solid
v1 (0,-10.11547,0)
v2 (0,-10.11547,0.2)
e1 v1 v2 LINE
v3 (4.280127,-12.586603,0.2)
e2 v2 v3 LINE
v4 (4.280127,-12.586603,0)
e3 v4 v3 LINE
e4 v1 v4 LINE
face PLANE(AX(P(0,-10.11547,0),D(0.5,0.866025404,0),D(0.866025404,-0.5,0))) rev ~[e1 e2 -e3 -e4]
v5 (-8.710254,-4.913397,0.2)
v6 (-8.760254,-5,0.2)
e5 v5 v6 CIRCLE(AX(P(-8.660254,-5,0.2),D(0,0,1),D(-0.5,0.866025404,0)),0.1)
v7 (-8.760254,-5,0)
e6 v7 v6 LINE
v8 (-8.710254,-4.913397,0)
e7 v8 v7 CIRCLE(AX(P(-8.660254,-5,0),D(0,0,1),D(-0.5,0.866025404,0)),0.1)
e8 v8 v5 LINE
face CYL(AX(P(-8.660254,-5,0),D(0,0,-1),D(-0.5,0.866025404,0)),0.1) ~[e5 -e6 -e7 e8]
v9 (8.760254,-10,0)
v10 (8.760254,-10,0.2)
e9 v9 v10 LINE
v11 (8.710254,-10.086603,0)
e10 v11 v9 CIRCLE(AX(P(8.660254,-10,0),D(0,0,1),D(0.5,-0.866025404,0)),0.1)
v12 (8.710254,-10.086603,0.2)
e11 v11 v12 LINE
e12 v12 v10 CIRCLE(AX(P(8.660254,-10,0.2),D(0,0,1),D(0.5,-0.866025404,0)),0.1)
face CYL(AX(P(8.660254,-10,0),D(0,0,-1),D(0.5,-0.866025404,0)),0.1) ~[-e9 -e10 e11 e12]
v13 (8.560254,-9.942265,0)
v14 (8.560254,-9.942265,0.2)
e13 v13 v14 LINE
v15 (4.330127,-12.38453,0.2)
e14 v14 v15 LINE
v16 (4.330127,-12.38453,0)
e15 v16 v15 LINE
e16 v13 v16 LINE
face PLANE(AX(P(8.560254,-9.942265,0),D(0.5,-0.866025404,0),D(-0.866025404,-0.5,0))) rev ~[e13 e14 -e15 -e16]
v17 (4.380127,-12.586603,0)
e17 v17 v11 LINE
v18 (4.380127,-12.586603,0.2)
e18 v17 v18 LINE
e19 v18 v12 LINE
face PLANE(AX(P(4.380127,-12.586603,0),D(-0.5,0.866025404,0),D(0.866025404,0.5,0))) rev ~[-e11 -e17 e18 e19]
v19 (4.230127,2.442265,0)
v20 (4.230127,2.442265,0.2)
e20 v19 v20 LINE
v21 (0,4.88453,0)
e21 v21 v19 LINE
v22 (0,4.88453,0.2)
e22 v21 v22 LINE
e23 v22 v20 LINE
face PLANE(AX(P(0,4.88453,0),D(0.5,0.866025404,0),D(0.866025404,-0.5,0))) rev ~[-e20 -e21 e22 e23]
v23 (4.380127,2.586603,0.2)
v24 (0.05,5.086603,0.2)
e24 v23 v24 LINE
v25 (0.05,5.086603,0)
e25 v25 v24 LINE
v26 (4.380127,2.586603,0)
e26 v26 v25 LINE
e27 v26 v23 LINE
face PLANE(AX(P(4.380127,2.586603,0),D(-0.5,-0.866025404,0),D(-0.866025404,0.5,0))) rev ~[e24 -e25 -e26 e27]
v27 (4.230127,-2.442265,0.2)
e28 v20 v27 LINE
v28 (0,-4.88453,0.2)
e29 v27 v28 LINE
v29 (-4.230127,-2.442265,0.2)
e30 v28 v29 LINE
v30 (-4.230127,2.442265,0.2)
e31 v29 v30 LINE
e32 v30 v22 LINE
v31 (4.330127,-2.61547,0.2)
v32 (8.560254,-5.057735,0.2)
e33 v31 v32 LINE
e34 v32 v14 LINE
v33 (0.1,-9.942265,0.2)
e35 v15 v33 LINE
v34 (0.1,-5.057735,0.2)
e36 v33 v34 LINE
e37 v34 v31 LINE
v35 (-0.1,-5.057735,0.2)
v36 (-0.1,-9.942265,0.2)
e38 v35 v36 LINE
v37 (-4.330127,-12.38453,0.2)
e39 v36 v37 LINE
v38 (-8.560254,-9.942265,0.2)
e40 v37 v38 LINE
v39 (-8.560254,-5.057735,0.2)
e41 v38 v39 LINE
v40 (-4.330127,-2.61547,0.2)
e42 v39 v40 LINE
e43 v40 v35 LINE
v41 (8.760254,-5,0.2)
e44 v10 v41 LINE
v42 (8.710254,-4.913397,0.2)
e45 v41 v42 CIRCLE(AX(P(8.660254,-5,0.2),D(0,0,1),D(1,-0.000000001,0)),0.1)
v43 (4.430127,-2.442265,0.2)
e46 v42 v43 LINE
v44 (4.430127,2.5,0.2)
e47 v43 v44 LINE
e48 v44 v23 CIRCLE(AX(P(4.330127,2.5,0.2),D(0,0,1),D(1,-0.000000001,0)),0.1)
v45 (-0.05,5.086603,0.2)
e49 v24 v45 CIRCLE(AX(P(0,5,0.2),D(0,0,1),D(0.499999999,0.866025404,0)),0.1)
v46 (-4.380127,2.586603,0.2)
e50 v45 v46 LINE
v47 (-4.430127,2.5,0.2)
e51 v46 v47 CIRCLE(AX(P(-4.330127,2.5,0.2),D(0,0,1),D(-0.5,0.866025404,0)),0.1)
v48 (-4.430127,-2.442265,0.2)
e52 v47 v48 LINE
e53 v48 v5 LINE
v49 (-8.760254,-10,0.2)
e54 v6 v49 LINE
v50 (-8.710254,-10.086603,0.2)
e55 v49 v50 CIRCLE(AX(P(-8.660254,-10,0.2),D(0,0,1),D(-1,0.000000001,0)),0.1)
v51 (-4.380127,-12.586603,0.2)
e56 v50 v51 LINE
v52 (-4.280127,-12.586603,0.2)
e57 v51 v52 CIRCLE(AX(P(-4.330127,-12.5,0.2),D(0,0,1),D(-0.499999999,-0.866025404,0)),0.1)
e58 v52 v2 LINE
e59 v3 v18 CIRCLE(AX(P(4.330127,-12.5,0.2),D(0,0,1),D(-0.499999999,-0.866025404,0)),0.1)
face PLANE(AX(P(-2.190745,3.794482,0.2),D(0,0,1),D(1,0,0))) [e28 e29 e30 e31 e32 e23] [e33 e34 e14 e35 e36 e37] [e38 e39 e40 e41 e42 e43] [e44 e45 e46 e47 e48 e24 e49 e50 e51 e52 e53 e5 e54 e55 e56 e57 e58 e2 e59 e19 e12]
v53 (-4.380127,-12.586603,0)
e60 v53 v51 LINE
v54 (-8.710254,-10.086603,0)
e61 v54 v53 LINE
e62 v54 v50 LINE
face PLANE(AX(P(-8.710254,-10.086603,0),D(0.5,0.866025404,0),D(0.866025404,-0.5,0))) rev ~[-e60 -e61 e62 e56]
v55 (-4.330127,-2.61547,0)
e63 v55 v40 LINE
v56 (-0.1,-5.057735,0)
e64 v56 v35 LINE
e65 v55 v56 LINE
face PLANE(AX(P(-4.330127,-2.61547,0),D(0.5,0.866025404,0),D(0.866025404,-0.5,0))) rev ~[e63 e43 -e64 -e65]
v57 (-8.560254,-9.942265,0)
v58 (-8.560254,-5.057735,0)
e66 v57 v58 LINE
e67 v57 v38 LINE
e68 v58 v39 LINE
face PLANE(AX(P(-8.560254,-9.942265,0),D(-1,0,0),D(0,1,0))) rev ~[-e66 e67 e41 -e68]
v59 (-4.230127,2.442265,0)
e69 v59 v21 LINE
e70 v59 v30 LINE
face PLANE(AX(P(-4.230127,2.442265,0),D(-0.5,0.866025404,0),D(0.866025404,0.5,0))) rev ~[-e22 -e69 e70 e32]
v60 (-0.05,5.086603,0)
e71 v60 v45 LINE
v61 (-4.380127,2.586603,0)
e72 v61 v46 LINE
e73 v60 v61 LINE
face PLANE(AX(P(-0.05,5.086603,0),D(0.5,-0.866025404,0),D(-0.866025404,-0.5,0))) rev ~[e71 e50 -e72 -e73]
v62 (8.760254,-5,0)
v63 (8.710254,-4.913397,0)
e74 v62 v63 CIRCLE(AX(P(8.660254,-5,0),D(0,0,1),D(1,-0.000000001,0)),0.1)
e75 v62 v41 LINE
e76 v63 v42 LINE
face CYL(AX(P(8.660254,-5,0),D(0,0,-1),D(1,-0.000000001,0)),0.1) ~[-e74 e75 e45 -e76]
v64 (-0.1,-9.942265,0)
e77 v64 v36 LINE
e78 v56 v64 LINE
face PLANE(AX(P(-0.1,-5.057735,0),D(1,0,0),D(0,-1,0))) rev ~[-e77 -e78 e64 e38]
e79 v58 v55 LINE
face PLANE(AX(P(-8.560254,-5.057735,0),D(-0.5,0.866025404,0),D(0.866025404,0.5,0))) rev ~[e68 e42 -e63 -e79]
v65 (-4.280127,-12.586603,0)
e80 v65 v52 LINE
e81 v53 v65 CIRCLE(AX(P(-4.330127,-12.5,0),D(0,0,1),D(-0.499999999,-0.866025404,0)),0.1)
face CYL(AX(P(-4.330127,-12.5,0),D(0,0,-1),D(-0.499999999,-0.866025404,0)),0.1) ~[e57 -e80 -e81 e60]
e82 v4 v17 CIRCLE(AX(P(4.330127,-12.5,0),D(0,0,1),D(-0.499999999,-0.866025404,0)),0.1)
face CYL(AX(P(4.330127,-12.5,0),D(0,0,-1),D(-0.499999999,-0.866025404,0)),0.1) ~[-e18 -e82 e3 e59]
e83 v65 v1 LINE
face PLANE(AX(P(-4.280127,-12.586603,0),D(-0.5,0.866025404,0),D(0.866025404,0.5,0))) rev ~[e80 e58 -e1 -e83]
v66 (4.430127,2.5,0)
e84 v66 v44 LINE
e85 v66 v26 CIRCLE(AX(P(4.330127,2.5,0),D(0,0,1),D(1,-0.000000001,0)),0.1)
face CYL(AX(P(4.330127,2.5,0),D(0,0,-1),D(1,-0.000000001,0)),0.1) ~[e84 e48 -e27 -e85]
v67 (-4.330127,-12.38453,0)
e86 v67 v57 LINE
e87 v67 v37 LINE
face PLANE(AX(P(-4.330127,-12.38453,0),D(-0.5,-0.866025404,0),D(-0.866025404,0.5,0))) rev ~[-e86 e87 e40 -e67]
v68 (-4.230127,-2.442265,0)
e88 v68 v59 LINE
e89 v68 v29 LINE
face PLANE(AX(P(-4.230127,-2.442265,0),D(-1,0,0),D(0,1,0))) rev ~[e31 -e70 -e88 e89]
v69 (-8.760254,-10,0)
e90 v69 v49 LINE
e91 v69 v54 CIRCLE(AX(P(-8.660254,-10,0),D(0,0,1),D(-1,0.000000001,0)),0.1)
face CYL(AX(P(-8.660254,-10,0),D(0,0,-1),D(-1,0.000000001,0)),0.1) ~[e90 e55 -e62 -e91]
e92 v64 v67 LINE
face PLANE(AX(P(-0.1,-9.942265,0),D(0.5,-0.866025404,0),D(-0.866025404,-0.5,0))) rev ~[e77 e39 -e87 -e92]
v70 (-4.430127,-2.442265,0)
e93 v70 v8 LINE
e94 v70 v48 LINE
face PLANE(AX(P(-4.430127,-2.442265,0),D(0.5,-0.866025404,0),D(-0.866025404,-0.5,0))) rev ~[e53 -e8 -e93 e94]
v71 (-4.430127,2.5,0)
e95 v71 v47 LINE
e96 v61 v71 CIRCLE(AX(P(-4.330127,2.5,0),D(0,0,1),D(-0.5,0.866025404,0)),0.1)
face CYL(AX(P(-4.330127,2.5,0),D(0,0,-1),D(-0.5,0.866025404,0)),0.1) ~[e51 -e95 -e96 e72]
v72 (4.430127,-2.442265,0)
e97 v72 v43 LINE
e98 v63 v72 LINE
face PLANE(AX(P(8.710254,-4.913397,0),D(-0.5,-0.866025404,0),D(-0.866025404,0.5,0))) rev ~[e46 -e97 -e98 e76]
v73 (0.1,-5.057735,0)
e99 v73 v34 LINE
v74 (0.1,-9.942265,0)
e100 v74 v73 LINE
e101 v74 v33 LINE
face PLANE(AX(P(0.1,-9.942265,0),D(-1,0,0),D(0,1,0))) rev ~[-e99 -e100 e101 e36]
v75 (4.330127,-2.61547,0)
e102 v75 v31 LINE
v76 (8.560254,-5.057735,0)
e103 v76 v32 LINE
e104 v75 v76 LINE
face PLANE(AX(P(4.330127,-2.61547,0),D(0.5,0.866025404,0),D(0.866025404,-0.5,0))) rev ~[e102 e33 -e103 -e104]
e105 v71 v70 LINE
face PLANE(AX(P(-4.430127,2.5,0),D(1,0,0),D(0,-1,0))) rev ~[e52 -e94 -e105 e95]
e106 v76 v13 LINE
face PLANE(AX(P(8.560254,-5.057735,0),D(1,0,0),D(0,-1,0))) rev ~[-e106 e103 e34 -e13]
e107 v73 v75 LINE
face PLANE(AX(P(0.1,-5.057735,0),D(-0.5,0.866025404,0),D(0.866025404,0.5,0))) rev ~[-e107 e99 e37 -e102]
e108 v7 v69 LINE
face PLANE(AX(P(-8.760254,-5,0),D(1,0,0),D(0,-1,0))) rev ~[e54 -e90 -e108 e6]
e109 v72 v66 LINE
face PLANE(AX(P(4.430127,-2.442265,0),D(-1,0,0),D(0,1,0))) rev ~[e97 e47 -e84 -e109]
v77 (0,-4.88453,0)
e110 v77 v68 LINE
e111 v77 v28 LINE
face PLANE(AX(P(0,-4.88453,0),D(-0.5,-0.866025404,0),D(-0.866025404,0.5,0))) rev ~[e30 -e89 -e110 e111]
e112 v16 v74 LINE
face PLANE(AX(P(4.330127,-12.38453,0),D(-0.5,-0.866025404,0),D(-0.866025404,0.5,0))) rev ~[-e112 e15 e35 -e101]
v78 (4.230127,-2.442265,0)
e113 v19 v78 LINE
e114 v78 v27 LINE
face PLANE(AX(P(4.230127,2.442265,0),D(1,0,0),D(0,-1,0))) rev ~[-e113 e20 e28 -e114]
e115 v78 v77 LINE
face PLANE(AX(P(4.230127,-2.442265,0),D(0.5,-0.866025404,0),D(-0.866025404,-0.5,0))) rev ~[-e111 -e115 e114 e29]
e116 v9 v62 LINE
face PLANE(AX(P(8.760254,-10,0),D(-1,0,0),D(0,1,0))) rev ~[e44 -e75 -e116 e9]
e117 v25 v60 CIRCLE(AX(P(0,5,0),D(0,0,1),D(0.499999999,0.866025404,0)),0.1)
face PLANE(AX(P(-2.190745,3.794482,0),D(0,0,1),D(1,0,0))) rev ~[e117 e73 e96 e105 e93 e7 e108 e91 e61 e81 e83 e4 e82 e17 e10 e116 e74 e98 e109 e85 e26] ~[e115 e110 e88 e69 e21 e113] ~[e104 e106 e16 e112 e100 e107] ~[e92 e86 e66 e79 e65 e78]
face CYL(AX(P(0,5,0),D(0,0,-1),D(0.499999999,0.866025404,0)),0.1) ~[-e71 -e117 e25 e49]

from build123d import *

# Parameters (mm, degrees)
F1_DEPTH = 0.2


with BuildPart() as f1:
    # F0 (on Top) → F1 (new body)
    with BuildSketch(Plane.XY):
        with BuildLine():
            Line((-4.2435244785, 2.55), (-0.0866025404, 4.95))
            ThreePointArc((-0.0866025404, 4.95), (-0.0965925826, 5.0258819045), (-0.05, 5.0866025404))
            Line((-0.05, 5.0866025404), (-4.3801270189, 2.5866025404))
            ThreePointArc((-4.3801270189, 2.5866025404), (-4.3042451144, 2.5965925826), (-4.2435244785, 2.55))
        make_face()
        with BuildLine():
            Line((-4.3301270189, 2.5), (-4.2435244785, 2.55))
            ThreePointArc((-4.2435244785, 2.55), (-4.3042451144, 2.5965925826), (-4.3801270189, 2.5866025404))
            ThreePointArc((-4.3801270189, 2.5866025404), (-4.4167295593, 2.55), (-4.4301270189, 2.5))
            ThreePointArc((-4.4301270189, 2.5), (-4.400837697, 2.4292893219), (-4.3301270189, 2.4))
            Line((-4.3301270189, 2.4), (-4.3301270189, 2.5))
        make_face()
        with BuildLine():
            ThreePointArc((-4.2301270189, 2.5), (-4.2335344363, 2.5258819045), (-4.2435244785, 2.55))
            Line((-4.2435244785, 2.55), (-4.3301270189, 2.5))
            Line((-4.3301270189, 2.5), (-4.3301270189, 2.4))
            ThreePointArc((-4.3301270189, 2.4), (-4.3042451144, 2.4034074174), (-4.2801270189, 2.4133974596))
            Line((-4.2801270189, 2.4133974596), (-4.2301270189, 2.4422649731))
            Line((-4.2301270189, 2.4422649731), (-4.2301270189, 2.5))
        make_face()
        with BuildLine():
            Line((-4.3301270189, -2.4), (-4.3301270189, 2.4))
            ThreePointArc((-4.3301270189, 2.4), (-4.400837697, 2.4292893219), (-4.4301270189, 2.5))
            Line((-4.4301270189, 2.5), (-4.4301270189, -2.4422649731))
            Line((-4.4301270189, -2.4422649731), (-4.3801270189, -2.4133974596))
            ThreePointArc((-4.3801270189, -2.4133974596), (-4.3560089234, -2.4034074174), (-4.3301270189, -2.4))
        make_face()
        with BuildLine():
            Line((-4.2301270189, -2.4422649731), (-4.2301270189, 2.4422649731))
            Line((-4.2301270189, 2.4422649731), (-4.2801270189, 2.4133974596))
            ThreePointArc((-4.2801270189, 2.4133974596), (-4.3042451144, 2.4034074174), (-4.3301270189, 2.4))
            Line((-4.3301270189, 2.4), (-4.3301270189, -2.4))
            ThreePointArc((-4.3301270189, -2.4), (-4.3042451144, -2.4034074174), (-4.2801270189, -2.4133974596))
            Line((-4.2801270189, -2.4133974596), (-4.2301270189, -2.4422649731))
        make_face()
        with BuildLine():
            ThreePointArc((-0.05, 4.9133974596), (-0.0707106781, 4.9292893219), (-0.0866025404, 4.95))
            Line((-0.0866025404, 4.95), (-4.2435244785, 2.55))
            ThreePointArc((-4.2435244785, 2.55), (-4.2335344363, 2.5258819045), (-4.2301270189, 2.5))
            Line((-4.2301270189, 2.5), (-4.2301270189, 2.4422649731))
            Line((-4.2301270189, 2.4422649731), (0, 4.8845299462))
            Line((0, 4.8845299462), (-0.05, 4.9133974596))
        make_face()
        with BuildLine():
            Line((0.0866025404, 4.95), (0, 5))
            Line((0, 5), (-0.0866025404, 4.95))
            ThreePointArc((-0.0866025404, 4.95), (-0.0707106781, 4.9292893219), (-0.05, 4.9133974596))
            Line((-0.05, 4.9133974596), (0, 4.8845299462))
            Line((0, 4.8845299462), (0.05, 4.9133974596))
            ThreePointArc((0.05, 4.9133974596), (0.0707106781, 4.9292893219), (0.0866025404, 4.95))
        make_face()
        with BuildLine():
            Line((-0.0866025404, 4.95), (0, 5))
            Line((0, 5), (0.0866025404, 4.95))
            ThreePointArc((0.0866025404, 4.95), (0.0965925826, 5.0258819045), (0.05, 5.0866025404))
            ThreePointArc((0.05, 5.0866025404), (0, 5.1), (-0.05, 5.0866025404))
            ThreePointArc((-0.05, 5.0866025404), (-0.0965925826, 5.0258819045), (-0.0866025404, 4.95))
        make_face()
        with BuildLine():
            ThreePointArc((0.05, 5.0866025404), (0.0965925826, 5.0258819045), (0.0866025404, 4.95))
            Line((0.0866025404, 4.95), (4.2435244785, 2.55))
            ThreePointArc((4.2435244785, 2.55), (4.3042451144, 2.5965925826), (4.3801270189, 2.5866025404))
            Line((4.3801270189, 2.5866025404), (0.05, 5.0866025404))
        make_face()
        with BuildLine():
            Line((4.2435244785, 2.55), (0.0866025404, 4.95))
            ThreePointArc((0.0866025404, 4.95), (0.0707106781, 4.9292893219), (0.05, 4.9133974596))
            Line((0.05, 4.9133974596), (0, 4.8845299462))
            Line((0, 4.8845299462), (4.2301270189, 2.4422649731))
            Line((4.2301270189, 2.4422649731), (4.2301270189, 2.5))
            ThreePointArc((4.2301270189, 2.5), (4.2335344363, 2.5258819045), (4.2435244785, 2.55))
        make_face()
        with BuildLine():
            Line((4.3301270189, 2.5), (4.2435244785, 2.55))
            ThreePointArc((4.2435244785, 2.55), (4.2335344363, 2.5258819045), (4.2301270189, 2.5))
            Line((4.2301270189, 2.5), (4.2301270189, 2.4422649731))
            Line((4.2301270189, 2.4422649731), (4.2801270189, 2.4133974596))
            ThreePointArc((4.2801270189, 2.4133974596), (4.3042451144, 2.4034074174), (4.3301270189, 2.4))
            Line((4.3301270189, 2.4), (4.3301270189, 2.5))
        make_face()
        with BuildLine():
            ThreePointArc((4.3801270189, 2.5866025404), (4.3042451144, 2.5965925826), (4.2435244785, 2.55))
            Line((4.2435244785, 2.55), (4.3301270189, 2.5))
            Line((4.3301270189, 2.5), (4.3301270189, 2.4))
            ThreePointArc((4.3301270189, 2.4), (4.400837697, 2.4292893219), (4.4301270189, 2.5))
            ThreePointArc((4.4301270189, 2.5), (4.4167295593, 2.55), (4.3801270189, 2.5866025404))
        make_face()
        with BuildLine():
            Line((4.3301270189, -2.4), (4.3301270189, 2.4))
            ThreePointArc((4.3301270189, 2.4), (4.3042451144, 2.4034074174), (4.2801270189, 2.4133974596))
            Line((4.2801270189, 2.4133974596), (4.2301270189, 2.4422649731))
            Line((4.2301270189, 2.4422649731), (4.2301270189, -2.4422649731))
            Line((4.2301270189, -2.4422649731), (4.2801270189, -2.4133974596))
            ThreePointArc((4.2801270189, -2.4133974596), (4.3042451144, -2.4034074174), (4.3301270189, -2.4))
        make_face()
        with BuildLine():
            ThreePointArc((4.4301270189, 2.5), (4.400837697, 2.4292893219), (4.3301270189, 2.4))
            Line((4.3301270189, 2.4), (4.3301270189, -2.4))
            ThreePointArc((4.3301270189, -2.4), (4.3560089234, -2.4034074174), (4.3801270189, -2.4133974596))
            Line((4.3801270189, -2.4133974596), (4.4301270189, -2.4422649731))
            Line((4.4301270189, -2.4422649731), (4.4301270189, 2.5))
        make_face()
        with BuildLine():
            Line((4.2801270189, -2.4133974596), (4.2301270189, -2.4422649731))
            Line((4.2301270189, -2.4422649731), (4.2301270189, -2.5))
            ThreePointArc((4.2301270189, -2.5), (4.2435244785, -2.45), (4.2801270189, -2.4133974596))
        make_face()
        with BuildLine():
            Line((4.4301270189, -2.5), (4.4301270189, -2.4422649731))
            Line((4.4301270189, -2.4422649731), (4.3801270189, -2.4133974596))
            ThreePointArc((4.3801270189, -2.4133974596), (4.4167295593, -2.45), (4.4301270189, -2.5))
        make_face()
        with BuildLine():
            ThreePointArc((4.3801270189, -2.4133974596), (4.3560089234, -2.4034074174), (4.3301270189, -2.4))
            Line((4.3301270189, -2.4), (4.3301270189, -2.5))
            Line((4.3301270189, -2.5), (4.4167295593, -2.55))
            ThreePointArc((4.4167295593, -2.55), (4.4267196016, -2.5258819045), (4.4301270189, -2.5))
            ThreePointArc((4.4301270189, -2.5), (4.4167295593, -2.45), (4.3801270189, -2.4133974596))
        make_face()
        with BuildLine():
            Line((4.3301270189, -2.5), (4.3301270189, -2.4))
            ThreePointArc((4.3301270189, -2.4), (4.3042451144, -2.4034074174), (4.2801270189, -2.4133974596))
            ThreePointArc((4.2801270189, -2.4133974596), (4.2435244785, -2.45), (4.2301270189, -2.5))
            ThreePointArc((4.2301270189, -2.5), (4.2335344363, -2.5258819045), (4.2435244785, -2.55))
            Line((4.2435244785, -2.55), (4.3301270189, -2.5))
        make_face()
        with BuildLine():
            ThreePointArc((4.3801270189, -2.5866025404), (4.3301270189, -2.6), (4.2801270189, -2.5866025404))
            Line((4.2801270189, -2.5866025404), (4.3301270189, -2.6154700538))
            Line((4.3301270189, -2.6154700538), (4.3801270189, -2.5866025404))
        make_face()
        with BuildLine():
            Line((4.4167295593, -2.55), (4.3301270189, -2.5))
            Line((4.3301270189, -2.5), (4.2435244785, -2.55))
            ThreePointArc((4.2435244785, -2.55), (4.2594163408, -2.5707106781), (4.2801270189, -2.5866025404))
            ThreePointArc((4.2801270189, -2.5866025404), (4.3301270189, -2.6), (4.3801270189, -2.5866025404))
            ThreePointArc((4.3801270189, -2.5866025404), (4.400837697, -2.5707106781), (4.4167295593, -2.55))
        make_face()
        with BuildLine():
            Line((4.2301270189, -2.5), (4.2301270189, -2.4422649731))
            Line((4.2301270189, -2.4422649731), (0, -4.8845299462))
            Line((0, -4.8845299462), (0.05, -4.9133974596))
            ThreePointArc((0.05, -4.9133974596), (0.0707106781, -4.9292893219), (0.0866025404, -4.95))
            Line((0.0866025404, -4.95), (4.2435244785, -2.55))
            ThreePointArc((4.2435244785, -2.55), (4.2335344363, -2.5258819045), (4.2301270189, -2.5))
        make_face()
        with BuildLine():
            ThreePointArc((4.2801270189, -2.5866025404), (4.2594163408, -2.5707106781), (4.2435244785, -2.55))
            Line((4.2435244785, -2.55), (0.0866025404, -4.95))
            ThreePointArc((0.0866025404, -4.95), (0.0965925826, -4.9741180955), (0.1, -5))
            Line((0.1, -5), (0.1, -5.0577350269))
            Line((0.1, -5.0577350269), (4.3301270189, -2.6154700538))
            Line((4.3301270189, -2.6154700538), (4.2801270189, -2.5866025404))
        make_face()
        with BuildLine():
            Line((8.5736514975, -4.95), (4.4167295593, -2.55))
            ThreePointArc((4.4167295593, -2.55), (4.400837697, -2.5707106781), (4.3801270189, -2.5866025404))
            Line((4.3801270189, -2.5866025404), (4.3301270189, -2.6154700538))
            Line((4.3301270189, -2.6154700538), (8.5602540378, -5.0577350269))
            Line((8.5602540378, -5.0577350269), (8.5602540378, -5))
            ThreePointArc((8.5602540378, -5), (8.5636614552, -4.9741180955), (8.5736514975, -4.95))
        make_face()
        with BuildLine():
            Line((8.7102540378, -4.9133974596), (4.4301270189, -2.4422649731))
            Line((4.4301270189, -2.4422649731), (4.4301270189, -2.5))
            ThreePointArc((4.4301270189, -2.5), (4.4267196016, -2.5258819045), (4.4167295593, -2.55))
            Line((4.4167295593, -2.55), (8.5736514975, -4.95))
            ThreePointArc((8.5736514975, -4.95), (8.6343721333, -4.9034074174), (8.7102540378, -4.9133974596))
        make_face()
        with BuildLine():
            Line((8.6602540378, -5), (8.5736514975, -4.95))
            ThreePointArc((8.5736514975, -4.95), (8.5636614552, -4.9741180955), (8.5602540378, -5))
            Line((8.5602540378, -5), (8.5602540378, -5.0577350269))
            Line((8.5602540378, -5.0577350269), (8.6102540378, -5.0866025404))
            ThreePointArc((8.6102540378, -5.0866025404), (8.6343721333, -5.0965925826), (8.6602540378, -5.1))
            Line((8.6602540378, -5.1), (8.6602540378, -5))
        make_face()
        with BuildLine():
            ThreePointArc((8.7602540378, -5), (8.7468565782, -4.95), (8.7102540378, -4.9133974596))
            ThreePointArc((8.7102540378, -4.9133974596), (8.6343721333, -4.9034074174), (8.5736514975, -4.95))
            Line((8.5736514975, -4.95), (8.6602540378, -5))
            Line((8.6602540378, -5), (8.6602540378, -5.1))
            ThreePointArc((8.6602540378, -5.1), (8.730964716, -5.0707106781), (8.7602540378, -5))
        make_face()
        with BuildLine():
            Line((8.7602540378, -10), (8.7602540378, -5))
            ThreePointArc((8.7602540378, -5), (8.730964716, -5.0707106781), (8.6602540378, -5.1))
            Line((8.6602540378, -5.1), (8.6602540378, -9.9))
            ThreePointArc((8.6602540378, -9.9), (8.730964716, -9.9292893219), (8.7602540378, -10))
        make_face()
        with BuildLine():
            Line((8.6602540378, -9.9), (8.6602540378, -5.1))
            ThreePointArc((8.6602540378, -5.1), (8.6343721333, -5.0965925826), (8.6102540378, -5.0866025404))
            Line((8.6102540378, -5.0866025404), (8.5602540378, -5.0577350269))
            Line((8.5602540378, -5.0577350269), (8.5602540378, -9.9422649731))
            Line((8.5602540378, -9.9422649731), (8.6102540378, -9.9133974596))
            ThreePointArc((8.6102540378, -9.9133974596), (8.6343721333, -9.9034074174), (8.6602540378, -9.9))
        make_face()
        with BuildLine():
            Line((8.6602540378, -10), (8.6602540378, -9.9))
            ThreePointArc((8.6602540378, -9.9), (8.6343721333, -9.9034074174), (8.6102540378, -9.9133974596))
            Line((8.6102540378, -9.9133974596), (8.5602540378, -9.9422649731))
            Line((8.5602540378, -9.9422649731), (8.5602540378, -10))
            ThreePointArc((8.5602540378, -10), (8.5636614552, -10.0258819045), (8.5736514975, -10.05))
            Line((8.5736514975, -10.05), (8.6602540378, -10))
        make_face()
        with BuildLine():
            ThreePointArc((8.7102540378, -10.0866025404), (8.7468565782, -10.05), (8.7602540378, -10))
            ThreePointArc((8.7602540378, -10), (8.730964716, -9.9292893219), (8.6602540378, -9.9))
            Line((8.6602540378, -9.9), (8.6602540378, -10))
            Line((8.6602540378, -10), (8.5736514975, -10.05))
            ThreePointArc((8.5736514975, -10.05), (8.6343721333, -10.0965925826), (8.7102540378, -10.0866025404))
        make_face()
        with BuildLine():
            Line((4.3801270189, -12.5866025404), (8.7102540378, -10.0866025404))
            ThreePointArc((8.7102540378, -10.0866025404), (8.6343721333, -10.0965925826), (8.5736514975, -10.05))
            Line((8.5736514975, -10.05), (4.4167295593, -12.45))
            ThreePointArc((4.4167295593, -12.45), (4.4267196016, -12.5258819045), (4.3801270189, -12.5866025404))
        make_face()
        with BuildLine():
            Line((4.4167295593, -12.45), (8.5736514975, -10.05))
            ThreePointArc((8.5736514975, -10.05), (8.5636614552, -10.0258819045), (8.5602540378, -10))
            Line((8.5602540378, -10), (8.5602540378, -9.9422649731))
            Line((8.5602540378, -9.9422649731), (4.3301270189, -12.3845299462))
            Line((4.3301270189, -12.3845299462), (4.3801270189, -12.4133974596))
            ThreePointArc((4.3801270189, -12.4133974596), (4.400837697, -12.4292893219), (4.4167295593, -12.45))
        make_face()
        with BuildLine():
            ThreePointArc((4.2801270189, -12.5866025404), (4.3301270189, -12.6), (4.3801270189, -12.5866025404))
            ThreePointArc((4.3801270189, -12.5866025404), (4.4267196016, -12.5258819045), (4.4167295593, -12.45))
            Line((4.4167295593, -12.45), (4.3301270189, -12.5))
            Line((4.3301270189, -12.5), (4.2435244785, -12.45))
            ThreePointArc((4.2435244785, -12.45), (4.2335344363, -12.5258819045), (4.2801270189, -12.5866025404))
        make_face()
        with BuildLine():
            Line((4.3301270189, -12.5), (4.4167295593, -12.45))
            ThreePointArc((4.4167295593, -12.45), (4.400837697, -12.4292893219), (4.3801270189, -12.4133974596))
            Line((4.3801270189, -12.4133974596), (4.3301270189, -12.3845299462))
            Line((4.3301270189, -12.3845299462), (4.2801270189, -12.4133974596))
            ThreePointArc((4.2801270189, -12.4133974596), (4.2594163408, -12.4292893219), (4.2435244785, -12.45))
            Line((4.2435244785, -12.45), (4.3301270189, -12.5))
        make_face()
        with BuildLine():
            Line((4.3301270189, -12.3845299462), (0.1, -9.9422649731))
            Line((0.1, -9.9422649731), (0.1, -10))
            ThreePointArc((0.1, -10), (0.0965925826, -10.0258819045), (0.0866025404, -10.05))
            Line((0.0866025404, -10.05), (4.2435244785, -12.45))
            ThreePointArc((4.2435244785, -12.45), (4.2594163408, -12.4292893219), (4.2801270189, -12.4133974596))
            Line((4.2801270189, -12.4133974596), (4.3301270189, -12.3845299462))
        make_face()
        with BuildLine():
            Line((0, -10.1154700538), (4.2801270189, -12.5866025404))
            ThreePointArc((4.2801270189, -12.5866025404), (4.2335344363, -12.5258819045), (4.2435244785, -12.45))
            Line((4.2435244785, -12.45), (0.0866025404, -10.05))
            ThreePointArc((0.0866025404, -10.05), (0.0707106781, -10.0707106781), (0.05, -10.0866025404))
            Line((0.05, -10.0866025404), (0, -10.1154700538))
        make_face()
        with BuildLine():
            Line((0.05, -4.9133974596), (0, -4.8845299462))
            Line((0, -4.8845299462), (-0.05, -4.9133974596))
            ThreePointArc((-0.05, -4.9133974596), (0, -4.9), (0.05, -4.9133974596))
        make_face()
        with BuildLine():
            ThreePointArc((-0.05, -5.0866025404), (-0.0866025404, -5.05), (-0.1, -5))
            Line((-0.1, -5), (-0.1, -5.0577350269))
            Line((-0.1, -5.0577350269), (-0.05, -5.0866025404))
        make_face()
        with BuildLine():
            Line((0.1, -5.0577350269), (0.1, -5))
            ThreePointArc((0.1, -5), (0.0866025404, -5.05), (0.05, -5.0866025404))
            Line((0.05, -5.0866025404), (0.1, -5.0577350269))
        make_face()
        with BuildLine():
            ThreePointArc((0.1, -5), (0.0965925826, -4.9741180955), (0.0866025404, -4.95))
            Line((0.0866025404, -4.95), (0, -5))
            Line((0, -5), (0, -5.1))
            ThreePointArc((0, -5.1), (0.0258819045, -5.0965925826), (0.05, -5.0866025404))
            ThreePointArc((0.05, -5.0866025404), (0.0866025404, -5.05), (0.1, -5))
        make_face()
        with BuildLine():
            Line((0, -5), (-0.0866025404, -4.95))
            ThreePointArc((-0.0866025404, -4.95), (-0.0965925826, -4.9741180955), (-0.1, -5))
            ThreePointArc((-0.1, -5), (-0.0866025404, -5.05), (-0.05, -5.0866025404))
            ThreePointArc((-0.05, -5.0866025404), (-0.0258819045, -5.0965925826), (0, -5.1))
            Line((0, -5.1), (0, -5))
        make_face()
        with BuildLine():
            ThreePointArc((0.05, -4.9133974596), (0, -4.9), (-0.05, -4.9133974596))
            ThreePointArc((-0.05, -4.9133974596), (-0.0707106781, -4.9292893219), (-0.0866025404, -4.95))
            Line((-0.0866025404, -4.95), (0, -5))
            Line((0, -5), (0.0866025404, -4.95))
            ThreePointArc((0.0866025404, -4.95), (0.0707106781, -4.9292893219), (0.05, -4.9133974596))
        make_face()
        with BuildLine():
            ThreePointArc((0.05, -5.0866025404), (0.0258819045, -5.0965925826), (0, -5.1))
            Line((0, -5.1), (0, -9.9))
            ThreePointArc((0, -9.9), (0.0258819045, -9.9034074174), (0.05, -9.9133974596))
            Line((0.05, -9.9133974596), (0.1, -9.9422649731))
            Line((0.1, -9.9422649731), (0.1, -5.0577350269))
            Line((0.1, -5.0577350269), (0.05, -5.0866025404))
        make_face()
        with BuildLine():
            Line((0, -9.9), (0, -5.1))
            ThreePointArc((0, -5.1), (-0.0258819045, -5.0965925826), (-0.05, -5.0866025404))
            Line((-0.05, -5.0866025404), (-0.1, -5.0577350269))
            Line((-0.1, -5.0577350269), (-0.1, -9.9422649731))
            Line((-0.1, -9.9422649731), (-0.05, -9.9133974596))
            ThreePointArc((-0.05, -9.9133974596), (-0.0258819045, -9.9034074174), (0, -9.9))
        make_face()
        with BuildLine():
            Line((0, -4.8845299462), (-4.2301270189, -2.4422649731))
            Line((-4.2301270189, -2.4422649731), (-4.2301270189, -2.5))
            ThreePointArc((-4.2301270189, -2.5), (-4.2335344363, -2.5258819045), (-4.2435244785, -2.55))
            Line((-4.2435244785, -2.55), (-0.0866025404, -4.95))
            ThreePointArc((-0.0866025404, -4.95), (-0.0707106781, -4.9292893219), (-0.05, -4.9133974596))
            Line((-0.05, -4.9133974596), (0, -4.8845299462))
        make_face()
        with BuildLine():
            Line((-0.0866025404, -4.95), (-4.2435244785, -2.55))
            ThreePointArc((-4.2435244785, -2.55), (-4.2594163408, -2.5707106781), (-4.2801270189, -2.5866025404))
            Line((-4.2801270189, -2.5866025404), (-4.3301270189, -2.6154700538))
            Line((-4.3301270189, -2.6154700538), (-0.1, -5.0577350269))
            Line((-0.1, -5.0577350269), (-0.1, -5))
            ThreePointArc((-0.1, -5), (-0.0965925826, -4.9741180955), (-0.0866025404, -4.95))
        make_face()
        with BuildLine():
            Line((0.1, -10), (0.1, -9.9422649731))
            Line((0.1, -9.9422649731), (0.05, -9.9133974596))
            ThreePointArc((0.05, -9.9133974596), (0.0866025404, -9.95), (0.1, -10))
        make_face()
        with BuildLine():
            Line((-0.05, -9.9133974596), (-0.1, -9.9422649731))
            Line((-0.1, -9.9422649731), (-0.1, -10))
            ThreePointArc((-0.1, -10), (-0.0866025404, -9.95), (-0.05, -9.9133974596))
        make_face()
        with BuildLine():
            Line((-0.05, -10.0866025404), (0, -10.1154700538))
            Line((0, -10.1154700538), (0.05, -10.0866025404))
            ThreePointArc((0.05, -10.0866025404), (0, -10.1), (-0.05, -10.0866025404))
        make_face()
        with BuildLine():
            ThreePointArc((-4.2435244785, -12.45), (-4.2335344363, -12.5258819045), (-4.2801270189, -12.5866025404))
            Line((-4.2801270189, -12.5866025404), (0, -10.1154700538))
            Line((0, -10.1154700538), (-0.05, -10.0866025404))
            ThreePointArc((-0.05, -10.0866025404), (-0.0707106781, -10.0707106781), (-0.0866025404, -10.05))
            Line((-0.0866025404, -10.05), (-4.2435244785, -12.45))
        make_face()
        with BuildLine():
            Line((-0.1, -10), (-0.1, -9.9422649731))
            Line((-0.1, -9.9422649731), (-4.3301270189, -12.3845299462))
            Line((-4.3301270189, -12.3845299462), (-4.2801270189, -12.4133974596))
            ThreePointArc((-4.2801270189, -12.4133974596), (-4.2594163408, -12.4292893219), (-4.2435244785, -12.45))
            Line((-4.2435244785, -12.45), (-0.0866025404, -10.05))
            ThreePointArc((-0.0866025404, -10.05), (-0.0965925826, -10.0258819045), (-0.1, -10))
        make_face()
        with BuildLine():
            Line((0, -10), (0, -9.9))
            ThreePointArc((0, -9.9), (-0.0258819045, -9.9034074174), (-0.05, -9.9133974596))
            ThreePointArc((-0.05, -9.9133974596), (-0.0866025404, -9.95), (-0.1, -10))
            ThreePointArc((-0.1, -10), (-0.0965925826, -10.0258819045), (-0.0866025404, -10.05))
            Line((-0.0866025404, -10.05), (0, -10))
        make_face()
        with BuildLine():
            ThreePointArc((0.05, -9.9133974596), (0.0258819045, -9.9034074174), (0, -9.9))
            Line((0, -9.9), (0, -10))
            Line((0, -10), (0.0866025404, -10.05))
            ThreePointArc((0.0866025404, -10.05), (0.0965925826, -10.0258819045), (0.1, -10))
            ThreePointArc((0.1, -10), (0.0866025404, -9.95), (0.05, -9.9133974596))
        make_face()
        with BuildLine():
            Line((0.0866025404, -10.05), (0, -10))
            Line((0, -10), (-0.0866025404, -10.05))
            ThreePointArc((-0.0866025404, -10.05), (-0.0707106781, -10.0707106781), (-0.05, -10.0866025404))
            ThreePointArc((-0.05, -10.0866025404), (0, -10.1), (0.05, -10.0866025404))
            ThreePointArc((0.05, -10.0866025404), (0.0707106781, -10.0707106781), (0.0866025404, -10.05))
        make_face()
        with BuildLine():
            ThreePointArc((-4.3801270189, -12.4133974596), (-4.400837697, -12.4292893219), (-4.4167295593, -12.45))
            Line((-4.4167295593, -12.45), (-4.3301270189, -12.5))
            Line((-4.3301270189, -12.5), (-4.2435244785, -12.45))
            ThreePointArc((-4.2435244785, -12.45), (-4.2594163408, -12.4292893219), (-4.2801270189, -12.4133974596))
            Line((-4.2801270189, -12.4133974596), (-4.3301270189, -12.3845299462))
            Line((-4.3301270189, -12.3845299462), (-4.3801270189, -12.4133974596))
        make_face()
        with BuildLine():
            ThreePointArc((-4.4167295593, -12.45), (-4.4267196016, -12.5258819045), (-4.3801270189, -12.5866025404))
            ThreePointArc((-4.3801270189, -12.5866025404), (-4.3301270189, -12.6), (-4.2801270189, -12.5866025404))
            ThreePointArc((-4.2801270189, -12.5866025404), (-4.2335344363, -12.5258819045), (-4.2435244785, -12.45))
            Line((-4.2435244785, -12.45), (-4.3301270189, -12.5))
            Line((-4.3301270189, -12.5), (-4.4167295593, -12.45))
        make_face()
        with BuildLine():
            ThreePointArc((-8.5736514975, -10.05), (-8.6343721333, -10.0965925826), (-8.7102540378, -10.0866025404))
            Line((-8.7102540378, -10.0866025404), (-4.3801270189, -12.5866025404))
            ThreePointArc((-4.3801270189, -12.5866025404), (-4.4267196016, -12.5258819045), (-4.4167295593, -12.45))
            Line((-4.4167295593, -12.45), (-8.5736514975, -10.05))
        make_face()
        with BuildLine():
            ThreePointArc((-8.5602540378, -10), (-8.5636614552, -10.0258819045), (-8.5736514975, -10.05))
            Line((-8.5736514975, -10.05), (-4.4167295593, -12.45))
            ThreePointArc((-4.4167295593, -12.45), (-4.400837697, -12.4292893219), (-4.3801270189, -12.4133974596))
            Line((-4.3801270189, -12.4133974596), (-4.3301270189, -12.3845299462))
            Line((-4.3301270189, -12.3845299462), (-8.5602540378, -9.9422649731))
            Line((-8.5602540378, -9.9422649731), (-8.5602540378, -10))
        make_face()
        with BuildLine():
            ThreePointArc((-8.6102540378, -9.9133974596), (-8.6343721333, -9.9034074174), (-8.6602540378, -9.9))
            Line((-8.6602540378, -9.9), (-8.6602540378, -10))
            Line((-8.6602540378, -10), (-8.5736514975, -10.05))
            ThreePointArc((-8.5736514975, -10.05), (-8.5636614552, -10.0258819045), (-8.5602540378, -10))
            Line((-8.5602540378, -10), (-8.5602540378, -9.9422649731))
            Line((-8.5602540378, -9.9422649731), (-8.6102540378, -9.9133974596))
        make_face()
        with BuildLine():
            ThreePointArc((-8.6602540378, -9.9), (-8.730964716, -9.9292893219), (-8.7602540378, -10))
            ThreePointArc((-8.7602540378, -10), (-8.7468565782, -10.05), (-8.7102540378, -10.0866025404))
            ThreePointArc((-8.7102540378, -10.0866025404), (-8.6343721333, -10.0965925826), (-8.5736514975, -10.05))
            Line((-8.5736514975, -10.05), (-8.6602540378, -10))
            Line((-8.6602540378, -10), (-8.6602540378, -9.9))
        make_face()
        with BuildLine():
            ThreePointArc((-8.6602540378, -5.1), (-8.730964716, -5.0707106781), (-8.7602540378, -5))
            Line((-8.7602540378, -5), (-8.7602540378, -10))
            ThreePointArc((-8.7602540378, -10), (-8.730964716, -9.9292893219), (-8.6602540378, -9.9))
            Line((-8.6602540378, -9.9), (-8.6602540378, -5.1))
        make_face()
        with BuildLine():
            ThreePointArc((-8.6102540378, -5.0866025404), (-8.6343721333, -5.0965925826), (-8.6602540378, -5.1))
            Line((-8.6602540378, -5.1), (-8.6602540378, -9.9))
            ThreePointArc((-8.6602540378, -9.9), (-8.6343721333, -9.9034074174), (-8.6102540378, -9.9133974596))
            Line((-8.6102540378, -9.9133974596), (-8.5602540378, -9.9422649731))
            Line((-8.5602540378, -9.9422649731), (-8.5602540378, -5.0577350269))
            Line((-8.5602540378, -5.0577350269), (-8.6102540378, -5.0866025404))
        make_face()
        with BuildLine():
            ThreePointArc((-8.5602540378, -5), (-8.5636614552, -4.9741180955), (-8.5736514975, -4.95))
            Line((-8.5736514975, -4.95), (-8.6602540378, -5))
            Line((-8.6602540378, -5), (-8.6602540378, -5.1))
            ThreePointArc((-8.6602540378, -5.1), (-8.6343721333, -5.0965925826), (-8.6102540378, -5.0866025404))
            Line((-8.6102540378, -5.0866025404), (-8.5602540378, -5.0577350269))
            Line((-8.5602540378, -5.0577350269), (-8.5602540378, -5))
        make_face()
        with BuildLine():
            ThreePointArc((-8.5736514975, -4.95), (-8.6343721333, -4.9034074174), (-8.7102540378, -4.9133974596))
            ThreePointArc((-8.7102540378, -4.9133974596), (-8.7468565782, -4.95), (-8.7602540378, -5))
            ThreePointArc((-8.7602540378, -5), (-8.730964716, -5.0707106781), (-8.6602540378, -5.1))
            Line((-8.6602540378, -5.1), (-8.6602540378, -5))
            Line((-8.6602540378, -5), (-8.5736514975, -4.95))
        make_face()
        with BuildLine():
            Line((-4.4301270189, -2.5), (-4.4301270189, -2.4422649731))
            Line((-4.4301270189, -2.4422649731), (-8.7102540378, -4.9133974596))
            ThreePointArc((-8.7102540378, -4.9133974596), (-8.6343721333, -4.9034074174), (-8.5736514975, -4.95))
            Line((-8.5736514975, -4.95), (-4.4167295593, -2.55))
            ThreePointArc((-4.4167295593, -2.55), (-4.4267196016, -2.5258819045), (-4.4301270189, -2.5))
        make_face()
        with BuildLine():
            ThreePointArc((-4.3801270189, -2.5866025404), (-4.400837697, -2.5707106781), (-4.4167295593, -2.55))
            Line((-4.4167295593, -2.55), (-8.5736514975, -4.95))
            ThreePointArc((-8.5736514975, -4.95), (-8.5636614552, -4.9741180955), (-8.5602540378, -5))
            Line((-8.5602540378, -5), (-8.5602540378, -5.0577350269))
            Line((-8.5602540378, -5.0577350269), (-4.3301270189, -2.6154700538))
            Line((-4.3301270189, -2.6154700538), (-4.3801270189, -2.5866025404))
        make_face()
        with BuildLine():
            Line((-4.3801270189, -2.4133974596), (-4.4301270189, -2.4422649731))
            Line((-4.4301270189, -2.4422649731), (-4.4301270189, -2.5))
            ThreePointArc((-4.4301270189, -2.5), (-4.4167295593, -2.45), (-4.3801270189, -2.4133974596))
        make_face()
        with BuildLine():
            Line((-4.2301270189, -2.5), (-4.2301270189, -2.4422649731))
            Line((-4.2301270189, -2.4422649731), (-4.2801270189, -2.4133974596))
            ThreePointArc((-4.2801270189, -2.4133974596), (-4.2435244785, -2.45), (-4.2301270189, -2.5))
        make_face()
        with BuildLine():
            Line((-4.3301270189, -2.5), (-4.3301270189, -2.4))
            ThreePointArc((-4.3301270189, -2.4), (-4.3560089234, -2.4034074174), (-4.3801270189, -2.4133974596))
            ThreePointArc((-4.3801270189, -2.4133974596), (-4.4167295593, -2.45), (-4.4301270189, -2.5))
            ThreePointArc((-4.4301270189, -2.5), (-4.4267196016, -2.5258819045), (-4.4167295593, -2.55))
            Line((-4.4167295593, -2.55), (-4.3301270189, -2.5))
        make_face()
        with BuildLine():
            Line((-4.3301270189, -2.6154700538), (-4.2801270189, -2.5866025404))
            ThreePointArc((-4.2801270189, -2.5866025404), (-4.3301270189, -2.6), (-4.3801270189, -2.5866025404))
            Line((-4.3801270189, -2.5866025404), (-4.3301270189, -2.6154700538))
        make_face()
        with BuildLine():
            Line((-4.2435244785, -2.55), (-4.3301270189, -2.5))
            Line((-4.3301270189, -2.5), (-4.4167295593, -2.55))
            ThreePointArc((-4.4167295593, -2.55), (-4.400837697, -2.5707106781), (-4.3801270189, -2.5866025404))
            ThreePointArc((-4.3801270189, -2.5866025404), (-4.3301270189, -2.6), (-4.2801270189, -2.5866025404))
            ThreePointArc((-4.2801270189, -2.5866025404), (-4.2594163408, -2.5707106781), (-4.2435244785, -2.55))
        make_face()
        with BuildLine():
            ThreePointArc((-4.2801270189, -2.4133974596), (-4.3042451144, -2.4034074174), (-4.3301270189, -2.4))
            Line((-4.3301270189, -2.4), (-4.3301270189, -2.5))
            Line((-4.3301270189, -2.5), (-4.2435244785, -2.55))
            ThreePointArc((-4.2435244785, -2.55), (-4.2335344363, -2.5258819045), (-4.2301270189, -2.5))
            ThreePointArc((-4.2301270189, -2.5), (-4.2435244785, -2.45), (-4.2801270189, -2.4133974596))
        make_face()
    extrude(amount=F1_DEPTH)


solid = f1.part
